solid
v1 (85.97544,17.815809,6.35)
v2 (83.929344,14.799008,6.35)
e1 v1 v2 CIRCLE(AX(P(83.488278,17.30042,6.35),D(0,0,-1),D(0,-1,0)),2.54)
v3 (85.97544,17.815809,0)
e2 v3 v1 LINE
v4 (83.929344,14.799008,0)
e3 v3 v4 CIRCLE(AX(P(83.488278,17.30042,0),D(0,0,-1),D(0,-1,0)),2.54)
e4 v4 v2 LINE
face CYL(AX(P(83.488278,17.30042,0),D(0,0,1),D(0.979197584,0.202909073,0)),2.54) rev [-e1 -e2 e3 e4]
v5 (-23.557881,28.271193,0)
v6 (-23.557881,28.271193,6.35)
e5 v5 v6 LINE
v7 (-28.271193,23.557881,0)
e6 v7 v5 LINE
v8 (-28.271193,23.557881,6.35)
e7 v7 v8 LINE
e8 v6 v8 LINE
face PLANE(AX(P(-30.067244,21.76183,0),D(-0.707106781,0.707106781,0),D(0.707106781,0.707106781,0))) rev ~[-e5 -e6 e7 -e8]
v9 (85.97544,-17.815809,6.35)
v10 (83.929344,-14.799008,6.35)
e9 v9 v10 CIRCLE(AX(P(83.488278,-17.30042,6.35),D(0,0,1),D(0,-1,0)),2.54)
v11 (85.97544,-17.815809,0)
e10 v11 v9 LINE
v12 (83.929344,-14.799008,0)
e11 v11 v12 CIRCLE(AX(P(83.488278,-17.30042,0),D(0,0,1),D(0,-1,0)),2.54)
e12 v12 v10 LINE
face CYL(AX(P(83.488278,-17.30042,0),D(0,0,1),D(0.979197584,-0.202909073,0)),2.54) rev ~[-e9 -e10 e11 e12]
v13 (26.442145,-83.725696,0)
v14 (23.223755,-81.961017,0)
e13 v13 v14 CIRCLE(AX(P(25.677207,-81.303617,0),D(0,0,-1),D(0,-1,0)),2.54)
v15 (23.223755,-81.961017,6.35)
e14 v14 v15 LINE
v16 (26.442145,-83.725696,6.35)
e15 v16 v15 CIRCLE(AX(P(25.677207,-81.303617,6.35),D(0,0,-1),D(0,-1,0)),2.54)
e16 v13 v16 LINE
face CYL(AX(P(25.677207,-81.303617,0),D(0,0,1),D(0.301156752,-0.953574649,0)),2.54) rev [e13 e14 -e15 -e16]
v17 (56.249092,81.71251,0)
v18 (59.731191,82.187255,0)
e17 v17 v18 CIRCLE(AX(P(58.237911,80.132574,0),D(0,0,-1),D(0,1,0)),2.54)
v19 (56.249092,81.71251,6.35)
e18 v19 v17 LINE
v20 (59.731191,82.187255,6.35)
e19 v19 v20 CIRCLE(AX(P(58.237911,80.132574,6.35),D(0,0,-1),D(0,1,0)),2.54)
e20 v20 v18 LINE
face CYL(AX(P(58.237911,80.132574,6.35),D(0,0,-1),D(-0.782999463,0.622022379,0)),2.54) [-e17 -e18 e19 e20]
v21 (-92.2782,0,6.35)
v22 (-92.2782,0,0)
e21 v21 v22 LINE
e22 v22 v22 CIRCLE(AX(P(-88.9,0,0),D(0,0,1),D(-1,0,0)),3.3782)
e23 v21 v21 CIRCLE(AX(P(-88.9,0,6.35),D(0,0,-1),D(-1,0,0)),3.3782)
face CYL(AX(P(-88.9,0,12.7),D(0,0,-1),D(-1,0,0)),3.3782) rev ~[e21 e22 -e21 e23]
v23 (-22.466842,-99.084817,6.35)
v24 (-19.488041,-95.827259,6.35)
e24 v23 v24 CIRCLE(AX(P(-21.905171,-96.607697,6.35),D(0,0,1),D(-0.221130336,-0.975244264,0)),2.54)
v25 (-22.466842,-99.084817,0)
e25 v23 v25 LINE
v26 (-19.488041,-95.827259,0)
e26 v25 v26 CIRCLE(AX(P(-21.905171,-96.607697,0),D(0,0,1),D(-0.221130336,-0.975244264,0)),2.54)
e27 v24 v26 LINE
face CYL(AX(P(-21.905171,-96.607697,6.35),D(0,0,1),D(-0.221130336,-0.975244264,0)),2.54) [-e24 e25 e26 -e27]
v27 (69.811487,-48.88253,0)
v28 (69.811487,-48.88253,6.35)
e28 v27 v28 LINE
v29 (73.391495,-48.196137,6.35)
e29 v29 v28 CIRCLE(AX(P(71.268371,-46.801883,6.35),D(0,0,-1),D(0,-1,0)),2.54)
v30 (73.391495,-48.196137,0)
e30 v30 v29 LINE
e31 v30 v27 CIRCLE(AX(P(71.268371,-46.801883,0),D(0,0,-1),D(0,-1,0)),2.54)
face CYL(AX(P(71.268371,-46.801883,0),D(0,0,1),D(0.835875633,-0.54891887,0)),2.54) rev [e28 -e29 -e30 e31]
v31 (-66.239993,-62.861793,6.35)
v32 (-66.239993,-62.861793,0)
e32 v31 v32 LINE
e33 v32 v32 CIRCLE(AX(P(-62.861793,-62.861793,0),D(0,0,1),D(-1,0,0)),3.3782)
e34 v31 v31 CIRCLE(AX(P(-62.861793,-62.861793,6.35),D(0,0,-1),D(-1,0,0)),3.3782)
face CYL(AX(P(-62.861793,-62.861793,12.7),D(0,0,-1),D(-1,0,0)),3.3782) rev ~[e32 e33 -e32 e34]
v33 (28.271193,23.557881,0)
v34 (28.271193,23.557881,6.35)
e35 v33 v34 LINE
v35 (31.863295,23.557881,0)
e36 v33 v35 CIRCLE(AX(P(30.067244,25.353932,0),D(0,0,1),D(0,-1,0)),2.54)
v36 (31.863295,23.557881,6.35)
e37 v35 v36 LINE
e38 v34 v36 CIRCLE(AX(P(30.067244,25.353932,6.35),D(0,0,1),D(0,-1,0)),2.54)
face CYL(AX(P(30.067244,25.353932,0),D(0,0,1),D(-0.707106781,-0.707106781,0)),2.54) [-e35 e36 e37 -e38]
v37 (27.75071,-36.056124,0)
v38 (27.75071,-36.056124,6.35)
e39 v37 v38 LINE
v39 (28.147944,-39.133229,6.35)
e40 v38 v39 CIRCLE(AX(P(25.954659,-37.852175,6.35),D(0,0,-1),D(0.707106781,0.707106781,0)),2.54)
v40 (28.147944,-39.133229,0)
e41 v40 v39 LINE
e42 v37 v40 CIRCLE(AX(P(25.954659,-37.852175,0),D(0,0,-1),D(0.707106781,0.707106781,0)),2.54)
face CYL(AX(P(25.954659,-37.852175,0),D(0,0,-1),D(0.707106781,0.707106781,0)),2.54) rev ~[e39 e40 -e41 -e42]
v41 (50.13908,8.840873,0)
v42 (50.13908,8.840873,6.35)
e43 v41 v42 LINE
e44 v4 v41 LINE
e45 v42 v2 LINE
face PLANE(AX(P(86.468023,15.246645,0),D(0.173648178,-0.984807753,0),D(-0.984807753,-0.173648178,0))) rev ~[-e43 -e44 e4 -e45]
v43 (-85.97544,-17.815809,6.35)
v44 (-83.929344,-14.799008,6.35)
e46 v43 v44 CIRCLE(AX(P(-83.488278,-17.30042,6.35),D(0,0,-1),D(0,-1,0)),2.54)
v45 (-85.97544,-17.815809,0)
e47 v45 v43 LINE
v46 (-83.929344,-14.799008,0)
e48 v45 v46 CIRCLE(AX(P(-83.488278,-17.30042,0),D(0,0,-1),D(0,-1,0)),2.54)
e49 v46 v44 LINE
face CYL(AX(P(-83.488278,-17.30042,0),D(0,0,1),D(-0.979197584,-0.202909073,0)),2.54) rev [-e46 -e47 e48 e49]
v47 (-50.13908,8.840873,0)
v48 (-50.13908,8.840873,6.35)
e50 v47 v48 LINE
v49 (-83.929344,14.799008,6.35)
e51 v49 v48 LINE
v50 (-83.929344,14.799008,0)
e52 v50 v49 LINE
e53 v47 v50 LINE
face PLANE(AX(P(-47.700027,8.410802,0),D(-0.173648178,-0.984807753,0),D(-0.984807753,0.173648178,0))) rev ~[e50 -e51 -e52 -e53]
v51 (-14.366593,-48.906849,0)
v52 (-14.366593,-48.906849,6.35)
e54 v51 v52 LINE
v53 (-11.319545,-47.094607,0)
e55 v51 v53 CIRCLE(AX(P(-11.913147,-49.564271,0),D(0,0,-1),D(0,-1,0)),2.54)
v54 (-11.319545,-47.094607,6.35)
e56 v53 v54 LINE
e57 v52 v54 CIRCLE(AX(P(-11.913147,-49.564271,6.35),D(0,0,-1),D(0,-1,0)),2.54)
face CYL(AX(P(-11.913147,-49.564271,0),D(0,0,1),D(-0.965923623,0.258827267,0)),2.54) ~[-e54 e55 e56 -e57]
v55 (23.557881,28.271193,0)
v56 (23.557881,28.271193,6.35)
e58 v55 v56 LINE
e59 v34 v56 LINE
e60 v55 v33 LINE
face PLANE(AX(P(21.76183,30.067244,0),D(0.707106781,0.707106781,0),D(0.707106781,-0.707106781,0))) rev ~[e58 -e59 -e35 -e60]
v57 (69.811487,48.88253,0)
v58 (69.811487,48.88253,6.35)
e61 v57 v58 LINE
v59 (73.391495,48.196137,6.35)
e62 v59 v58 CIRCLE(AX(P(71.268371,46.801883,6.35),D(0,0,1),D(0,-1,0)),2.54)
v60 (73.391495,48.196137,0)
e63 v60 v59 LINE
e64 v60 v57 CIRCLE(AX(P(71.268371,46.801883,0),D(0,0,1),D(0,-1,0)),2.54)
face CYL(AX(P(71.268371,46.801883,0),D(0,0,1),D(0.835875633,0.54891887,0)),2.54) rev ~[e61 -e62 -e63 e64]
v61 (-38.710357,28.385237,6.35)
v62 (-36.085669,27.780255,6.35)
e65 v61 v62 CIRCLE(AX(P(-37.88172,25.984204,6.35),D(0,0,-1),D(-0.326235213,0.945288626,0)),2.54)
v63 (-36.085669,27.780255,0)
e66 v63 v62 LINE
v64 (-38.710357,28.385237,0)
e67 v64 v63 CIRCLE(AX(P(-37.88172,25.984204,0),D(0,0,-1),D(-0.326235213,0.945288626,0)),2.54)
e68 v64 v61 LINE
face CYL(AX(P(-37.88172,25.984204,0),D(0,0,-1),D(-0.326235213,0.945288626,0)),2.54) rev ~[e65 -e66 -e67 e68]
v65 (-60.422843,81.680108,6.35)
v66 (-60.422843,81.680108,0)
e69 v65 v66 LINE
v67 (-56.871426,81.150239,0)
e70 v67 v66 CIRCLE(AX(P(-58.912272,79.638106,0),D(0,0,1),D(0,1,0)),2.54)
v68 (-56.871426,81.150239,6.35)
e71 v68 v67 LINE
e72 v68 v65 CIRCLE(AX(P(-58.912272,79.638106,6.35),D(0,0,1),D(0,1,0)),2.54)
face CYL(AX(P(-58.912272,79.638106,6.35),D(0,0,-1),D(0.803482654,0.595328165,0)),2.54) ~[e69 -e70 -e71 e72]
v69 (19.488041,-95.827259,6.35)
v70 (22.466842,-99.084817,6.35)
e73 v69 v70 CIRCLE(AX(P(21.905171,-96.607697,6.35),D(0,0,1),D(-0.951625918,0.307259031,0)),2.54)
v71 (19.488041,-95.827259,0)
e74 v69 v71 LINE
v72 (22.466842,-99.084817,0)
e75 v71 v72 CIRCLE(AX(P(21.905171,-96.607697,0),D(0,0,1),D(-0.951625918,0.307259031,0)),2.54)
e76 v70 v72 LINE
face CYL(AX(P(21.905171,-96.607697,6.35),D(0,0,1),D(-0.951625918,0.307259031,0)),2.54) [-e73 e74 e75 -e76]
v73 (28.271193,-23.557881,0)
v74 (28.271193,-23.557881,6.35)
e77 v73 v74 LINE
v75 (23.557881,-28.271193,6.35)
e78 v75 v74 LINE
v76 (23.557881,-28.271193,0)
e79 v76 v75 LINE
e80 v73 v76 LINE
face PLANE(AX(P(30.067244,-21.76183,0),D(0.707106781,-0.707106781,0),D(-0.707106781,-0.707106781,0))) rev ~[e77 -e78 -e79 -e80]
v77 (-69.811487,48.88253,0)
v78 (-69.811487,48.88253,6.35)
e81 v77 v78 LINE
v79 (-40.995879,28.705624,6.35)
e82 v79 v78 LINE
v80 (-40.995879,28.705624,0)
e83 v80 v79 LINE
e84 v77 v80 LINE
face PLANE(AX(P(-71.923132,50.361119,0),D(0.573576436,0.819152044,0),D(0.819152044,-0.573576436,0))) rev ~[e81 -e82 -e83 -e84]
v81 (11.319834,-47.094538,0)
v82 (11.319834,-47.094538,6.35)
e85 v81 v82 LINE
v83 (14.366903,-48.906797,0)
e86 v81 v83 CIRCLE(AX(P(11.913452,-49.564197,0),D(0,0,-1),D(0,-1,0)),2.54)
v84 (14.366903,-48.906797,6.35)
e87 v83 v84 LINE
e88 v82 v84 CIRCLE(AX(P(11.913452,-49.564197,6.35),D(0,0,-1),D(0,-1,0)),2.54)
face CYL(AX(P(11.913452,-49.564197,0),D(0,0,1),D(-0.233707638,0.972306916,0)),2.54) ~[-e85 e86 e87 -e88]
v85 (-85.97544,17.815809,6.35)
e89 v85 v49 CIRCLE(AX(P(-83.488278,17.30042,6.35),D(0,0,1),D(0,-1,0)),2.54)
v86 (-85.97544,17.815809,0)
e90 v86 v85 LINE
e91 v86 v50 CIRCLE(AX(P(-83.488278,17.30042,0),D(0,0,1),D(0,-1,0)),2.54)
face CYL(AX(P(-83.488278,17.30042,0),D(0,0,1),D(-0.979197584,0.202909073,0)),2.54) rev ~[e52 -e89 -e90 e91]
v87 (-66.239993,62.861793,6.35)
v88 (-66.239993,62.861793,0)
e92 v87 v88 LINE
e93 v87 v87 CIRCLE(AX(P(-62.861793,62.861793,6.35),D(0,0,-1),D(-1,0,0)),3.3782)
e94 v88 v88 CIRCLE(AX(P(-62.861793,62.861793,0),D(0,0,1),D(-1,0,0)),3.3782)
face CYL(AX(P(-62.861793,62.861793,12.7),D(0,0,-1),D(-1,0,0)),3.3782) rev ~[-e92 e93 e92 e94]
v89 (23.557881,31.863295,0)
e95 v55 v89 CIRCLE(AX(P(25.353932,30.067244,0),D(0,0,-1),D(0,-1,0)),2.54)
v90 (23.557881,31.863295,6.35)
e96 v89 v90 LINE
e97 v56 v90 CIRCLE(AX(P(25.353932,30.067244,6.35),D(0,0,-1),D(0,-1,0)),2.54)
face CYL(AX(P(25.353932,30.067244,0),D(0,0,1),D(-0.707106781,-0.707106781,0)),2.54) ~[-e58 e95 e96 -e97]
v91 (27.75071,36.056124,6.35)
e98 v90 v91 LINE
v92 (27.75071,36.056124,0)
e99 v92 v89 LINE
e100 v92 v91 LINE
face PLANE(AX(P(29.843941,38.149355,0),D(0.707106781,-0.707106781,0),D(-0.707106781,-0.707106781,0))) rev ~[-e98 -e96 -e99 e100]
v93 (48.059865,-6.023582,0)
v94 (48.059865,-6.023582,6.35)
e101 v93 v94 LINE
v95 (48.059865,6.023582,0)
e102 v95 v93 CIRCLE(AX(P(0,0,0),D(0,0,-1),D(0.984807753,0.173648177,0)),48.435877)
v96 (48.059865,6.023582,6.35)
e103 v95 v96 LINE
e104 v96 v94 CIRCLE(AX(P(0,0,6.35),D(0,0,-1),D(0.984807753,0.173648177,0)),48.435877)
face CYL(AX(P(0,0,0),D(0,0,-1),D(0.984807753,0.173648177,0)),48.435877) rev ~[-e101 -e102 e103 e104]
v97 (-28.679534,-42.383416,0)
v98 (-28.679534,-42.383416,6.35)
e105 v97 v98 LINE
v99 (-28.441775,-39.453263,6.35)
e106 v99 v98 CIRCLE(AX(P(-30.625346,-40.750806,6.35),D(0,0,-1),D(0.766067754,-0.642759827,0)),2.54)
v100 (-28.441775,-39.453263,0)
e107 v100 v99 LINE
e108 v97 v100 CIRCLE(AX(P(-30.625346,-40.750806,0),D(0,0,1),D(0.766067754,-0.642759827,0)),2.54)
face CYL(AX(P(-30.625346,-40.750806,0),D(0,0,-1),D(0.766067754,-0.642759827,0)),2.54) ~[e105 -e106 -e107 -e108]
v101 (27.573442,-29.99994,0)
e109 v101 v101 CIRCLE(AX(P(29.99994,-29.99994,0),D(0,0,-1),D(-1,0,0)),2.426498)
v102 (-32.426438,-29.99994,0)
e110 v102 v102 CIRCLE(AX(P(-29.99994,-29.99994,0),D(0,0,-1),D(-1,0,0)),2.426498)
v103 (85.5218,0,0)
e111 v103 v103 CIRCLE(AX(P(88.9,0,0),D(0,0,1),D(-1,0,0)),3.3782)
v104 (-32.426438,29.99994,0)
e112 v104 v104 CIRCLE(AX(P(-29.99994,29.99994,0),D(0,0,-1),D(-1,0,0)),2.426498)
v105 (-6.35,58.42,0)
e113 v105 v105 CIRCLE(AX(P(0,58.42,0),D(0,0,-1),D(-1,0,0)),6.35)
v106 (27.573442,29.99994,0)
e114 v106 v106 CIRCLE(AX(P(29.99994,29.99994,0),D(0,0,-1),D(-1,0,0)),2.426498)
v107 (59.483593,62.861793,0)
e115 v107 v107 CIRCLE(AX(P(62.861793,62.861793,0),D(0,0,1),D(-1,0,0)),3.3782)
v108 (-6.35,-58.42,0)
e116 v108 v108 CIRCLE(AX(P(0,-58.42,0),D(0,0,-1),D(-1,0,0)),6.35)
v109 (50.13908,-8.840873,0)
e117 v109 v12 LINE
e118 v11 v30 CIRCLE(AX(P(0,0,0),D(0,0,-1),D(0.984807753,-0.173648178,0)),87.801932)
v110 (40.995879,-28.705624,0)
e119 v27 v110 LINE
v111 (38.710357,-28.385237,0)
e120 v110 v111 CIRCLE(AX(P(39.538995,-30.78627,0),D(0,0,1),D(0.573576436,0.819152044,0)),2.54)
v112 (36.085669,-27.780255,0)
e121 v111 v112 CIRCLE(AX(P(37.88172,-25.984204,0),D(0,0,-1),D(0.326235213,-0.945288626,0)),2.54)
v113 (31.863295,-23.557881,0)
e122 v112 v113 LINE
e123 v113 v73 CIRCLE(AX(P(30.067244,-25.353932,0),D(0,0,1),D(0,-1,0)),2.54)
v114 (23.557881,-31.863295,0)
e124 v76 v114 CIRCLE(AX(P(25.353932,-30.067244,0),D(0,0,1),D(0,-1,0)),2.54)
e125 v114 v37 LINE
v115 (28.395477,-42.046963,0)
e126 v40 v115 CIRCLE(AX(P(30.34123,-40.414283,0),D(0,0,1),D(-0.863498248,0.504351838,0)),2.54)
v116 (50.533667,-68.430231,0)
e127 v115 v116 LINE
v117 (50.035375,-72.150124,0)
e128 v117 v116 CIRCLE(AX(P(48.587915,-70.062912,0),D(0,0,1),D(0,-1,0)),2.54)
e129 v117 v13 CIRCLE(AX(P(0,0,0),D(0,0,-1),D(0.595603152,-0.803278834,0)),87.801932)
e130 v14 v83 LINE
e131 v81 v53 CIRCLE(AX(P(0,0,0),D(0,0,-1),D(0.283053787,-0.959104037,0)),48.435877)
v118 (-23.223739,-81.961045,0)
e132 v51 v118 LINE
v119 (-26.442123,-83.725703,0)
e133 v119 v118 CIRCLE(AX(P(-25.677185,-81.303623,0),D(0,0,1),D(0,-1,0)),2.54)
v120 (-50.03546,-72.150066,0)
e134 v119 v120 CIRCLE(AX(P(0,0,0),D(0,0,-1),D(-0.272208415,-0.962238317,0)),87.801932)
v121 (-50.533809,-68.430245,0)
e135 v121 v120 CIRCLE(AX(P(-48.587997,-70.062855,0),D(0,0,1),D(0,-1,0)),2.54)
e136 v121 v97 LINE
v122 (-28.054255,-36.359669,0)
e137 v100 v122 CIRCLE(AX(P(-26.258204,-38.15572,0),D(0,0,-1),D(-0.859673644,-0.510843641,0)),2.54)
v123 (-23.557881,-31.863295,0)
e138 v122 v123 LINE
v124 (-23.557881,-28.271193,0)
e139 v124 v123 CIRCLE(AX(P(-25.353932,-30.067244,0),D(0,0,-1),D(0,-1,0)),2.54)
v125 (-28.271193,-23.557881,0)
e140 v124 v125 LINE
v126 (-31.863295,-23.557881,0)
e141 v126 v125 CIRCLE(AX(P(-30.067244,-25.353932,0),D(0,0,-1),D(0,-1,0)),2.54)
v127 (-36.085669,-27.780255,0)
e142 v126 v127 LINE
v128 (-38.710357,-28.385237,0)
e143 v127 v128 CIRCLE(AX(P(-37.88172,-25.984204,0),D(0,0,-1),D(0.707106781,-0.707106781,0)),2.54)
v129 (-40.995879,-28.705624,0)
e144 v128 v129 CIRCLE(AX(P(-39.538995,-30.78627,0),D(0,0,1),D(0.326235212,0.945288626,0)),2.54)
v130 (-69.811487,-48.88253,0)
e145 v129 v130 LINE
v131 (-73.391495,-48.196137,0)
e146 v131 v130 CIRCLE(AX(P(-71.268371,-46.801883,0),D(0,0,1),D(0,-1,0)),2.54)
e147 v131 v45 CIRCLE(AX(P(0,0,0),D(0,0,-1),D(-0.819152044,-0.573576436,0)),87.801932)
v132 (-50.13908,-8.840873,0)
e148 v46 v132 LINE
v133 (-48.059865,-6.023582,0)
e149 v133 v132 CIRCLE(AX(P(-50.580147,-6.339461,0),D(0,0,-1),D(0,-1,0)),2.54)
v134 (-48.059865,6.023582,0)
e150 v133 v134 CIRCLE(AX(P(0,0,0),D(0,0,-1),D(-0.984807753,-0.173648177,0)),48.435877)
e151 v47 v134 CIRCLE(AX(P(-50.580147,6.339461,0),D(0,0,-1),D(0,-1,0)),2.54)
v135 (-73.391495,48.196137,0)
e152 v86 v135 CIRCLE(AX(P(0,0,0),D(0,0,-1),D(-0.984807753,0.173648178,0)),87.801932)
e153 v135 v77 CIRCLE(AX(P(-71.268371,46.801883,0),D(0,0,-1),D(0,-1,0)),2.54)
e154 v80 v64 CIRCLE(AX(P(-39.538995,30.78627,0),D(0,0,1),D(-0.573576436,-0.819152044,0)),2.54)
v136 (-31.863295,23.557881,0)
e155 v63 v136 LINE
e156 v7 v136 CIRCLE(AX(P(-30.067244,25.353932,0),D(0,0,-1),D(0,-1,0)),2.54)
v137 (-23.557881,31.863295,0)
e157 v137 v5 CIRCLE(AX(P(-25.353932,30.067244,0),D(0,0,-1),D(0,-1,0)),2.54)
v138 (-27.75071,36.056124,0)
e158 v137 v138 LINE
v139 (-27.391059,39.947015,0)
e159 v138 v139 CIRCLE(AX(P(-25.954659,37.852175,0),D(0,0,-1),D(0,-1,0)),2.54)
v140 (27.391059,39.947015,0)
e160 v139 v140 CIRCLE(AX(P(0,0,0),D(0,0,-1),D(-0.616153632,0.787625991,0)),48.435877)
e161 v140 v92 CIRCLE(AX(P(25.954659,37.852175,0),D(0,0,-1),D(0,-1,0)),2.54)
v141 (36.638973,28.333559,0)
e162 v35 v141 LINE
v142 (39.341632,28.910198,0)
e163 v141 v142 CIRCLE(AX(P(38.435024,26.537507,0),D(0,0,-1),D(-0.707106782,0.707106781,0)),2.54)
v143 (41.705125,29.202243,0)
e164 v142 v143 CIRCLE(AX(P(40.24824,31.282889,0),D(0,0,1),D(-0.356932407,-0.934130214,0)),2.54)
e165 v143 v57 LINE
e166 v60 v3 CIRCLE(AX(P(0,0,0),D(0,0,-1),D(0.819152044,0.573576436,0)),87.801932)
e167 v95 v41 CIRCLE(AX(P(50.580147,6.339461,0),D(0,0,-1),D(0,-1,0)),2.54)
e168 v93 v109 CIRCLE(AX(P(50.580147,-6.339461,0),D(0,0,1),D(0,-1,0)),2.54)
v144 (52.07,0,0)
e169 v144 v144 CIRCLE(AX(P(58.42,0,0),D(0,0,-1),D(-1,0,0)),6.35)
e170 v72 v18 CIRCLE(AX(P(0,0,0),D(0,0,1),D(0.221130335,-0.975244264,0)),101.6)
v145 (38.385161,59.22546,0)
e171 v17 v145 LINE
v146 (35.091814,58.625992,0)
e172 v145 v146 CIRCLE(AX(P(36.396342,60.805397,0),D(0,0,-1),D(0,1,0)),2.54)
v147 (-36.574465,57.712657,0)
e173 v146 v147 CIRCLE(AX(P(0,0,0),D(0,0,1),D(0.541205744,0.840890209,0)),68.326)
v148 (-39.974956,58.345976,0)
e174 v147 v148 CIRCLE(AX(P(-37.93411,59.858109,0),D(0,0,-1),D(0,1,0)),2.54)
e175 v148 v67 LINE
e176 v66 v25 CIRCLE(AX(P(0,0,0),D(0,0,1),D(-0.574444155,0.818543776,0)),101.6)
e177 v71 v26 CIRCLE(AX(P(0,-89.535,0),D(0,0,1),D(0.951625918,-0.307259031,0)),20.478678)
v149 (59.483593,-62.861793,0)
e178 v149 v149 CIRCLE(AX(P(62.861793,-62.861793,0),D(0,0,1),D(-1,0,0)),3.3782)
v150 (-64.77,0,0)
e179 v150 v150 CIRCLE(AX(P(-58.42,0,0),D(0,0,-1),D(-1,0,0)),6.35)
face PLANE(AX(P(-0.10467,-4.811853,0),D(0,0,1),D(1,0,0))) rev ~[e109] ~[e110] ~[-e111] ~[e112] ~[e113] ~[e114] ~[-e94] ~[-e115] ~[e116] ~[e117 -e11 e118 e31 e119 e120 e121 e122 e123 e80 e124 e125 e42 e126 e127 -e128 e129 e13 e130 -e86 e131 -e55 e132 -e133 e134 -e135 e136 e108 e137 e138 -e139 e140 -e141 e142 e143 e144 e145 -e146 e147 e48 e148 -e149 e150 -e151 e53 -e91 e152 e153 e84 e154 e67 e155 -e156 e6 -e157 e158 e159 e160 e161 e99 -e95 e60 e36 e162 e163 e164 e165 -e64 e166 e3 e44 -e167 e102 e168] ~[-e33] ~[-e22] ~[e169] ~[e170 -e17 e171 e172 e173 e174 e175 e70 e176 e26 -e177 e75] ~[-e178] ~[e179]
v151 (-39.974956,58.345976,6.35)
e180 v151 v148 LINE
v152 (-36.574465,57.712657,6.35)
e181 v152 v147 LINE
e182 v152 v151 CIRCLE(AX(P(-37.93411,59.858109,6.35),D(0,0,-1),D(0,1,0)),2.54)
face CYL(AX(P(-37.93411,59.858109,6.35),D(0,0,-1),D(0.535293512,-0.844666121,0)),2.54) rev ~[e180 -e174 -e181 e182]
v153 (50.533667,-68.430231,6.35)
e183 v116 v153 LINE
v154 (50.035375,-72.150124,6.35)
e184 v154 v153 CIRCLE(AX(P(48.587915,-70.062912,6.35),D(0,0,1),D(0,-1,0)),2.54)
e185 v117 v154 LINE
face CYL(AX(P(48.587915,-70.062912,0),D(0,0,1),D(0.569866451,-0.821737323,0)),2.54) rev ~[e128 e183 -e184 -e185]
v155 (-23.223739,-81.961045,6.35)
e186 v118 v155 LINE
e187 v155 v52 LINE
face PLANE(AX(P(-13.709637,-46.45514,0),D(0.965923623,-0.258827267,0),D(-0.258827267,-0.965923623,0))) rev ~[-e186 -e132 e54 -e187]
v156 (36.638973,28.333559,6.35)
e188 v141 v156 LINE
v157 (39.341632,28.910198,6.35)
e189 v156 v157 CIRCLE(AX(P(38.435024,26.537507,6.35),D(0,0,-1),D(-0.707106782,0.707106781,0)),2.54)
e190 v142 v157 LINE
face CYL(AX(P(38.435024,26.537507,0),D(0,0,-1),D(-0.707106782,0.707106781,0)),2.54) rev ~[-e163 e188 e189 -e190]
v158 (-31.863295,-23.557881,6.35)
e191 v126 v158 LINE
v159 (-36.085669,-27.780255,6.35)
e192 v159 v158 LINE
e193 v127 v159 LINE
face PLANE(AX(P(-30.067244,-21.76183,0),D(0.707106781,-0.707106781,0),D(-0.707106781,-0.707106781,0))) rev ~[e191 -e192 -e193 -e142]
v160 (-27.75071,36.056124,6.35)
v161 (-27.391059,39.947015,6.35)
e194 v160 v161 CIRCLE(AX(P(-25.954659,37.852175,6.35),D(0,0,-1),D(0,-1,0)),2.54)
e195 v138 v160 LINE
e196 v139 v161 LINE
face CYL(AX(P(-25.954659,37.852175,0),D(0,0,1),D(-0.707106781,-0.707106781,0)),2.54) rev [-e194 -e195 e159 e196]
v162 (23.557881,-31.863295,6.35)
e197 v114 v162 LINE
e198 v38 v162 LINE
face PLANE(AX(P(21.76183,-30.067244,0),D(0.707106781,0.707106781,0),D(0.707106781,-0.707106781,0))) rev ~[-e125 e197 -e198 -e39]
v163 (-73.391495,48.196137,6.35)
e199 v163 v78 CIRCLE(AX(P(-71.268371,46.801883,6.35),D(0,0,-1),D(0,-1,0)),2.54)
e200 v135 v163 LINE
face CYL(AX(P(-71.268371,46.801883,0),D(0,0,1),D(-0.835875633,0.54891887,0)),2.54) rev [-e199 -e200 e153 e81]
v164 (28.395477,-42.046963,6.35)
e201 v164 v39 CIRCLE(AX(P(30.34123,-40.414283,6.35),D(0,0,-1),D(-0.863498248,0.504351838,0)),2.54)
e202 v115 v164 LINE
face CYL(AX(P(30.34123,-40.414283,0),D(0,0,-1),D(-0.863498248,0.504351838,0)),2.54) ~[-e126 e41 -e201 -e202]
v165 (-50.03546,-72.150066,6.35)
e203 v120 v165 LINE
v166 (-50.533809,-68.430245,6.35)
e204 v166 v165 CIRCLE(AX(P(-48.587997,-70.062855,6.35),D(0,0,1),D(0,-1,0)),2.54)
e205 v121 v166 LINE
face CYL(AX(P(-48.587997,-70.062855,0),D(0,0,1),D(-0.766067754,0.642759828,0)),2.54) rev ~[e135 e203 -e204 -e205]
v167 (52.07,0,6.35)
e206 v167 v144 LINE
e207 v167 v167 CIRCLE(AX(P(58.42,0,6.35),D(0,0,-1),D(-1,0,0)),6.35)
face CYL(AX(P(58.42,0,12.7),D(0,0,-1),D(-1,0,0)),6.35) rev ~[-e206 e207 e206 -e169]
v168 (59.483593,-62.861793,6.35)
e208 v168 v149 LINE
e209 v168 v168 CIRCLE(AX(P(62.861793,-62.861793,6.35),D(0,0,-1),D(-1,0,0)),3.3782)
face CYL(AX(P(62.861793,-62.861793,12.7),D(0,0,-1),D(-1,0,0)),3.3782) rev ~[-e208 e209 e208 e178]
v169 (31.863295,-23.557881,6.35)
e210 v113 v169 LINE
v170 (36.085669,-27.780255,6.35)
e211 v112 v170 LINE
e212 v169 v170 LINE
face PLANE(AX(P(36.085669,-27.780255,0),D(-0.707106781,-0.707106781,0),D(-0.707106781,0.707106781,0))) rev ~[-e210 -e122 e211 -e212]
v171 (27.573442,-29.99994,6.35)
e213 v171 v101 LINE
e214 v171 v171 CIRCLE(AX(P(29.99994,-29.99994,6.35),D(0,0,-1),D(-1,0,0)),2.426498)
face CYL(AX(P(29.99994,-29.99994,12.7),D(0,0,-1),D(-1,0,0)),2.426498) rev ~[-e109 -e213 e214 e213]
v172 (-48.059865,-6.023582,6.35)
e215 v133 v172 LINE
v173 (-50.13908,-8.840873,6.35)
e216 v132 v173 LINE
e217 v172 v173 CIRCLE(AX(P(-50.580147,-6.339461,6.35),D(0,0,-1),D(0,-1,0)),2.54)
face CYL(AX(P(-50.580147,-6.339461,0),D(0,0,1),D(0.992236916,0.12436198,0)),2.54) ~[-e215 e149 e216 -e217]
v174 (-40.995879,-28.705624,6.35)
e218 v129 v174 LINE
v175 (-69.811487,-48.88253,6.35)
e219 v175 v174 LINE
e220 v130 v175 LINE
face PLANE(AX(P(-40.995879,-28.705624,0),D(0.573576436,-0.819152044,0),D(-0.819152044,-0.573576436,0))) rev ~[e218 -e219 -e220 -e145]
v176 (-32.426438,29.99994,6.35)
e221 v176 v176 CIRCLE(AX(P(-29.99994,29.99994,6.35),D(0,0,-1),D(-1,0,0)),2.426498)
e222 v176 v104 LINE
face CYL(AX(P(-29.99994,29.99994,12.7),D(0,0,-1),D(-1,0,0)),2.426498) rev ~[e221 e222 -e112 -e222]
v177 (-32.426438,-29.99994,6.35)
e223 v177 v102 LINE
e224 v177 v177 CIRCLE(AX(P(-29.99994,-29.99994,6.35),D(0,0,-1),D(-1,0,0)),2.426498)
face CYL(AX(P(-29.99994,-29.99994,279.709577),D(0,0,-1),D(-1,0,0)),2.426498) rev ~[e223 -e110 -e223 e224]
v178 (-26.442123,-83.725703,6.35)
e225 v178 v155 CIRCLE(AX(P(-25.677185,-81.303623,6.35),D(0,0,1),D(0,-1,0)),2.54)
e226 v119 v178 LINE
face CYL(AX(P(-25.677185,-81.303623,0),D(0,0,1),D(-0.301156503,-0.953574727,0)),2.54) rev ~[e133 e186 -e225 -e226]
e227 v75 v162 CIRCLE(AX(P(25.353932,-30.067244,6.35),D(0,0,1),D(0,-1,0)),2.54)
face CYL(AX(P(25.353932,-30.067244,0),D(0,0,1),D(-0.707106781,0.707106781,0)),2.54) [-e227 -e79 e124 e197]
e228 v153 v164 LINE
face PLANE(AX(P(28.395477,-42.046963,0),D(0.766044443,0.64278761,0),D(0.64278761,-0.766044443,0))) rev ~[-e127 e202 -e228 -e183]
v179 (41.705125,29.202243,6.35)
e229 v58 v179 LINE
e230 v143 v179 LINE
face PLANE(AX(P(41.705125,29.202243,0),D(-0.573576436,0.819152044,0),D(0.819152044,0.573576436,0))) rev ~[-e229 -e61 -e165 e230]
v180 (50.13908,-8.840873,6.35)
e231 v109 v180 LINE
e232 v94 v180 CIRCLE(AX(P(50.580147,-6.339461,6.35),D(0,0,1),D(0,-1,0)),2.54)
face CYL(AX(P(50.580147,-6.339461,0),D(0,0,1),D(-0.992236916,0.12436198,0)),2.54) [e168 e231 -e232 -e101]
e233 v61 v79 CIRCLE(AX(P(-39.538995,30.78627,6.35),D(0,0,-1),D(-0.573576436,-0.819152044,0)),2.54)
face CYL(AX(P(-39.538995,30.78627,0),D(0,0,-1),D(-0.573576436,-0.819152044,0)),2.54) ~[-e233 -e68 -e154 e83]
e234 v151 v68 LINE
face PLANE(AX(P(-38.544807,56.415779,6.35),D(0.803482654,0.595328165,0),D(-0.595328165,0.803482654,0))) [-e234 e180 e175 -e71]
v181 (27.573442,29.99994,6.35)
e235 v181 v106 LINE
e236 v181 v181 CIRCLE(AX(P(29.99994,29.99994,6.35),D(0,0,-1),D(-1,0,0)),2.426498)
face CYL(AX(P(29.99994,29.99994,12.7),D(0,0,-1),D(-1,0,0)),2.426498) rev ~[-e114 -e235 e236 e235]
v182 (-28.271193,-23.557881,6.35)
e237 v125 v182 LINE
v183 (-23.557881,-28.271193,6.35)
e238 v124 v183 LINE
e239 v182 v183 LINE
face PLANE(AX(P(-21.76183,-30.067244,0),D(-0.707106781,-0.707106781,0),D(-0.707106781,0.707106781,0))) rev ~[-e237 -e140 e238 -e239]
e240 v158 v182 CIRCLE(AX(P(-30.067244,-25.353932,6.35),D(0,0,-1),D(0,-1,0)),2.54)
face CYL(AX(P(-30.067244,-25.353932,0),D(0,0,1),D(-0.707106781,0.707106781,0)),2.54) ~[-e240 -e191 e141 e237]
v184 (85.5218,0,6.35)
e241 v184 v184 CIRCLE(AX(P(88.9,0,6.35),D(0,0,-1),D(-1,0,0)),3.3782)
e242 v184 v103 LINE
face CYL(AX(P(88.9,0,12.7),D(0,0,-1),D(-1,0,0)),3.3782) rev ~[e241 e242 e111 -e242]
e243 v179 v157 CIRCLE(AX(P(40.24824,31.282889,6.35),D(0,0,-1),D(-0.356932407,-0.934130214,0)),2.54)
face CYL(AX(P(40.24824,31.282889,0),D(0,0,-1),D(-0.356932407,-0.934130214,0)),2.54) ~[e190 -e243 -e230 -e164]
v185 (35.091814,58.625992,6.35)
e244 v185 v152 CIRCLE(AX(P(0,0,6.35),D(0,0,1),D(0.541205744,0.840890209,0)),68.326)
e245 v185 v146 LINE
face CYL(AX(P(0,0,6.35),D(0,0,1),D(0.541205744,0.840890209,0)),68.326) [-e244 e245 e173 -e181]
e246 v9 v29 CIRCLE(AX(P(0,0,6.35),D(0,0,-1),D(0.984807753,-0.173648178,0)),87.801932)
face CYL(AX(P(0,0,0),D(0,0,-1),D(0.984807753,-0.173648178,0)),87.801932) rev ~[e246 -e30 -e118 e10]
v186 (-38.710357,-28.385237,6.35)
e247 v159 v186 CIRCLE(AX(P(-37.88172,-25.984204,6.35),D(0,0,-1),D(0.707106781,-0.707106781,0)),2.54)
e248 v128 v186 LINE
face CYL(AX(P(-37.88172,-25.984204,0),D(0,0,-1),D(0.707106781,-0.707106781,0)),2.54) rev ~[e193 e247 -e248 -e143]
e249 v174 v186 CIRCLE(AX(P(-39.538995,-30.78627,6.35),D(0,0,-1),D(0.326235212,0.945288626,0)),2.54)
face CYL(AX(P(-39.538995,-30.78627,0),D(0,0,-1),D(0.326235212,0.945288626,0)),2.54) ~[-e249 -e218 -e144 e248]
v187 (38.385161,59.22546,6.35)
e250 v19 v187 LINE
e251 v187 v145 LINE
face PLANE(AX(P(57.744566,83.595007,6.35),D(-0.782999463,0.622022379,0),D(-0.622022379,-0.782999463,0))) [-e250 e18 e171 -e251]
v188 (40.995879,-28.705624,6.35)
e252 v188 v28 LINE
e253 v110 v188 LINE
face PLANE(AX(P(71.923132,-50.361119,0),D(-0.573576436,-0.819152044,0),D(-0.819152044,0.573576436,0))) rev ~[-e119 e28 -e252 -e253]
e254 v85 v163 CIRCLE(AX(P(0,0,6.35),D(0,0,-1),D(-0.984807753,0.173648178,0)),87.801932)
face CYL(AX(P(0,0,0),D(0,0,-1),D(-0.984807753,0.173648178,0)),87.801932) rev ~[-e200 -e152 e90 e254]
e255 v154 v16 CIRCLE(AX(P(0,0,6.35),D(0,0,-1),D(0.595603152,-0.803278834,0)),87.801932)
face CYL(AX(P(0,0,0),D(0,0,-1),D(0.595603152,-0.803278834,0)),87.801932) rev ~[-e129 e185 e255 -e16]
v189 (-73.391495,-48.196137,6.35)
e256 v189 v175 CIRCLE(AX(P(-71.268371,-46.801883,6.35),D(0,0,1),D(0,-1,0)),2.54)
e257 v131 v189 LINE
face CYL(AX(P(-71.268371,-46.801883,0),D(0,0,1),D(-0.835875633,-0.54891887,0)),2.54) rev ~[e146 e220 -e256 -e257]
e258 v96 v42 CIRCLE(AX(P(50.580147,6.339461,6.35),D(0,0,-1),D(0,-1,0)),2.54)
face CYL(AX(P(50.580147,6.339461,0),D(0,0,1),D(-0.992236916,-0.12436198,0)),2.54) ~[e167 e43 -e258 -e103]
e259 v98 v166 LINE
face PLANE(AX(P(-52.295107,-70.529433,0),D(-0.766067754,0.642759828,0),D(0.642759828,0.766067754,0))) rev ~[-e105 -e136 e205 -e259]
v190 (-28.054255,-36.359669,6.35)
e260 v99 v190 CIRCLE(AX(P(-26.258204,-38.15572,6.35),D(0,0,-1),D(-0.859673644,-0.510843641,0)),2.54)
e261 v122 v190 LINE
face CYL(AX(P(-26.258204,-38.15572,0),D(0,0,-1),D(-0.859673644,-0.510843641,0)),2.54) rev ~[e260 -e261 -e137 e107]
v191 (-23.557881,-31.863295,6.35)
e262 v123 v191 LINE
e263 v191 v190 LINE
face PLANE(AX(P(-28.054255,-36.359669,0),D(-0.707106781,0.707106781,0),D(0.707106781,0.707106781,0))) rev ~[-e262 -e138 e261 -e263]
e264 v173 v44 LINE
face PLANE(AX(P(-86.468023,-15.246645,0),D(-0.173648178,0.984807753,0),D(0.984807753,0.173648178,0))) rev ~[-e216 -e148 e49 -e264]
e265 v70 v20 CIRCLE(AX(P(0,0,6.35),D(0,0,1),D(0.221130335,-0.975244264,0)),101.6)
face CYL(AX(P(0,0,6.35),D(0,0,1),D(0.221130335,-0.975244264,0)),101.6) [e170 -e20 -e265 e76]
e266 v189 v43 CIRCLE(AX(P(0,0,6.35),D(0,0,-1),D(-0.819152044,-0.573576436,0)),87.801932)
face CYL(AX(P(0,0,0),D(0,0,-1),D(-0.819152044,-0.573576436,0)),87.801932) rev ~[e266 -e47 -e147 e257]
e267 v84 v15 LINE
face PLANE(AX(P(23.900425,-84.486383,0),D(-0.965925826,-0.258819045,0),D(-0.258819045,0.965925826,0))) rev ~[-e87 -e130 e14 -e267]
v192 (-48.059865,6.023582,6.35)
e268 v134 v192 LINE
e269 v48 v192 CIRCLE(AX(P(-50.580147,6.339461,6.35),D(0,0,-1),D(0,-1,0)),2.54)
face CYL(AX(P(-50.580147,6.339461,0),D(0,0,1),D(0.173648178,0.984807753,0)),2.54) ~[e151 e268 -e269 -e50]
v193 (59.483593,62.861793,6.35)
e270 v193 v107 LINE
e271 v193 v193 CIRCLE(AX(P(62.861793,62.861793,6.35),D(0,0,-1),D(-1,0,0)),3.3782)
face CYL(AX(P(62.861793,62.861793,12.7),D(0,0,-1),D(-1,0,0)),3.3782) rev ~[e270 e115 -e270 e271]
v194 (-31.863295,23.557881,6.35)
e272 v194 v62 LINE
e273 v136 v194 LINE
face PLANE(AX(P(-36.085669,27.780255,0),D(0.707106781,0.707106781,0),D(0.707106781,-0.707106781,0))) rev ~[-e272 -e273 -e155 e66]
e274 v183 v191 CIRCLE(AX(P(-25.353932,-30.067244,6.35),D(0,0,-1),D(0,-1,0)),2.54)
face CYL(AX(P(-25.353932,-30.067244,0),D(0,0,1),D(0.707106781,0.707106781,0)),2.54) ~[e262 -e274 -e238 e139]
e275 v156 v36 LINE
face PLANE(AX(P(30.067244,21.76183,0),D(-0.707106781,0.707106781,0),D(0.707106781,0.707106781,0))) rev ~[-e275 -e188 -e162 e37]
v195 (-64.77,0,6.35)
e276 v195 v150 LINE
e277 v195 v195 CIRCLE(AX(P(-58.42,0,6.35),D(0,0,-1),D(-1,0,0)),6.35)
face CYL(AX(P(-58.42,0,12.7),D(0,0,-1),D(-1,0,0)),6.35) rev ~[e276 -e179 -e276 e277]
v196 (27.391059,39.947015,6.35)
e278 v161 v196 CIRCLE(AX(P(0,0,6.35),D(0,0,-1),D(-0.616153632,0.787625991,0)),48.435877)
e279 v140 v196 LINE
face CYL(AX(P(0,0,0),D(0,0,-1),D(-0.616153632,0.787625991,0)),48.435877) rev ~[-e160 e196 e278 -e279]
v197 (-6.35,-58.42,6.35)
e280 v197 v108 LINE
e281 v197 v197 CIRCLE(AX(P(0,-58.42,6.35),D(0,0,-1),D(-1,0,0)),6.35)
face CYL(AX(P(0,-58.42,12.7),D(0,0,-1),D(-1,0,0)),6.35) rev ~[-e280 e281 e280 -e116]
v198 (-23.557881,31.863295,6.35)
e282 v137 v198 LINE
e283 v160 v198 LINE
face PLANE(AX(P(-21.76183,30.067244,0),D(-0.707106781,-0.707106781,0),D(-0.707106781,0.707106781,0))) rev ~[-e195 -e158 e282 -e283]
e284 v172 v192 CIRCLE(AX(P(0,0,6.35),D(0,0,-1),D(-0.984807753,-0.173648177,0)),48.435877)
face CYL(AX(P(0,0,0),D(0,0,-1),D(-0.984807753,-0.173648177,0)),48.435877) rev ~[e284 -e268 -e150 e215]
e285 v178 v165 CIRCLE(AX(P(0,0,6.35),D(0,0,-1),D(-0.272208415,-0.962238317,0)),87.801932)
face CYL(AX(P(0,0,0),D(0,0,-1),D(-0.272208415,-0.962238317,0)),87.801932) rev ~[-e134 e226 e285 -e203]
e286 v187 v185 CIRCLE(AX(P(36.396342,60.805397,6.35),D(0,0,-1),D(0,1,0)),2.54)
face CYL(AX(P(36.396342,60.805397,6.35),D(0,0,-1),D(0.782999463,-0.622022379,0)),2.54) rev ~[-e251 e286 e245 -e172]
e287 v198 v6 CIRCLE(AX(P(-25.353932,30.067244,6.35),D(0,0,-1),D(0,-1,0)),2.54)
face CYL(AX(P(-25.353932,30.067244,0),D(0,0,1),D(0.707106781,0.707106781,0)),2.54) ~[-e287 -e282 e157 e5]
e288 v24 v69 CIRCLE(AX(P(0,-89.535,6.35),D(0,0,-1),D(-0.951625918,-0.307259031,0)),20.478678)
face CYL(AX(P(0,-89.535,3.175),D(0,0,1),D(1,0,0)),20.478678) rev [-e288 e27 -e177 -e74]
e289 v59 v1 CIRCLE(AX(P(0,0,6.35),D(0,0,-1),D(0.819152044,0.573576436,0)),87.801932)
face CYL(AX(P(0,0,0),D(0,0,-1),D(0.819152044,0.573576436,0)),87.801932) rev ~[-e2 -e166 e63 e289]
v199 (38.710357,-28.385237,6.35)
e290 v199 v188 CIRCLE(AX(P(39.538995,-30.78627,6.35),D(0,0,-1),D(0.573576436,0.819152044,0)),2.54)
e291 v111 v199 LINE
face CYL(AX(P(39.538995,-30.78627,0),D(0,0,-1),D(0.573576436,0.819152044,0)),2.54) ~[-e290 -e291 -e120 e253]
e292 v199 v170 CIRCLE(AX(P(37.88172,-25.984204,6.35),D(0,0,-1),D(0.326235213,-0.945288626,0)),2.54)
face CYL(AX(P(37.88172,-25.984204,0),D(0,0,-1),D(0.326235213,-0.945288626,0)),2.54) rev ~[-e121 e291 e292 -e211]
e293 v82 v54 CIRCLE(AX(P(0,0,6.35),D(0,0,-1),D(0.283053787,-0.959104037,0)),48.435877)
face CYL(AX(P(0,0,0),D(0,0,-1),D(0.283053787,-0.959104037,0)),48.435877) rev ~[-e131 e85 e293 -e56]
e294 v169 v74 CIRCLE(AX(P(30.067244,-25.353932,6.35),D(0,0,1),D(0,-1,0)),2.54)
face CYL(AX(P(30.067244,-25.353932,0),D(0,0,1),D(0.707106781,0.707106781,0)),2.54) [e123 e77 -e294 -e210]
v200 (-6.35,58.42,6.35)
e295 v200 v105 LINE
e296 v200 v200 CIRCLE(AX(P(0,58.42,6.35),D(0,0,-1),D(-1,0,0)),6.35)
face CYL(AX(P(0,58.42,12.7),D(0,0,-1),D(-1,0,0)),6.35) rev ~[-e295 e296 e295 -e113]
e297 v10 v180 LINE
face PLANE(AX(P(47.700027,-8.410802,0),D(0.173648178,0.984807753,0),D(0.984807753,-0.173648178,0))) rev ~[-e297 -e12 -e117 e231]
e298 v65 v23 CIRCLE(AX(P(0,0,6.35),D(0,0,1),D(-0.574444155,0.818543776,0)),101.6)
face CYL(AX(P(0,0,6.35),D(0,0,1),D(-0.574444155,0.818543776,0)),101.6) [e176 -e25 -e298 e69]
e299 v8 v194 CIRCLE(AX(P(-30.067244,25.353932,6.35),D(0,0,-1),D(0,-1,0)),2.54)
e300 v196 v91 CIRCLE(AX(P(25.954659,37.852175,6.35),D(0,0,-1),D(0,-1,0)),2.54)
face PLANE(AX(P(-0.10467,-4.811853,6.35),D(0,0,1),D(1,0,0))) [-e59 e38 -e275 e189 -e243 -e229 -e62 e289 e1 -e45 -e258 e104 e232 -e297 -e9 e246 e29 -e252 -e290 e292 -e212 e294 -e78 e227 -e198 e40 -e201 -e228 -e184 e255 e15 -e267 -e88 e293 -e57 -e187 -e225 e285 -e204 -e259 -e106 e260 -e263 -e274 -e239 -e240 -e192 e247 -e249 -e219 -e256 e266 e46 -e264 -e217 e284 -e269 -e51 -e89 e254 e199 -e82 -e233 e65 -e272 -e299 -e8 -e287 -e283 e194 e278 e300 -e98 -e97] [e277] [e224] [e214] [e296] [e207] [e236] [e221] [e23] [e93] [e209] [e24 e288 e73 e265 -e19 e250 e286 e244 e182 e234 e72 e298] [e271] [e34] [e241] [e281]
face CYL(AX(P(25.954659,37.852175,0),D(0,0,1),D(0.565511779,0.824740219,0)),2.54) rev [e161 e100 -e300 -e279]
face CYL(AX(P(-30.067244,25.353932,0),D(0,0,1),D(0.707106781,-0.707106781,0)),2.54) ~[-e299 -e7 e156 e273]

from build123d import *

# Parameters (mm, degrees)
BOSS_EXTRUDE1_DEPTH = 6.35
CUT_EXTRUDE1_DEPTH  = 7.35
SKETCH3_W           = 20.478678418
SKETCH3_H           = 6.35
HOLE1_D             = 4.852996304
HOLE1_DEPTH         = 6.35
HOLE2_D             = 4.852996304
HOLE2_DEPTH         = 6.35
HOLE3_D             = 4.852996304
HOLE4_D             = 4.852996304
HOLE4_DEPTH         = 6.35
HOLE5_D             = 12.7
HOLE5_DEPTH         = 6.35
HOLE6_D             = 12.7
HOLE6_DEPTH         = 6.35
HOLE7_D             = 12.7
HOLE7_DEPTH         = 6.35
HOLE8_D             = 12.7
HOLE8_DEPTH         = 6.35
HOLE9_D             = 6.7564
HOLE9_DEPTH         = 6.35
HOLE9_TIP           = 2.029827343
HOLE10_D            = 6.7564
HOLE10_DEPTH        = 6.35
HOLE10_TIP          = 2.029827343
HOLE11_D            = 6.7564
HOLE11_DEPTH        = 6.35
HOLE11_TIP          = 2.029827343
HOLE12_D            = 6.7564
HOLE12_DEPTH        = 6.35
HOLE12_TIP          = 2.029827343
HOLE13_D            = 6.7564
HOLE13_DEPTH        = 6.35
HOLE13_TIP          = 2.029827343
HOLE14_D            = 6.7564
HOLE14_DEPTH        = 6.35
HOLE14_TIP          = 2.029827343
FILLET1_R           = 2.54
FILLET2_R           = 2.54
FILLET3_R           = 2.54
FILLET4_R           = 2.54
FILLET5_R           = 2.54
FILLET6_R           = 2.54
FILLET7_R           = 2.54
FILLET8_R           = 2.54
FILLET9_R           = 2.54
FILLET10_R          = 2.54
FILLET11_R          = 2.54
FILLET12_R          = 2.54
FILLET13_R          = 2.54
FILLET14_R          = 2.54
FILLET15_R          = 2.54
FILLET16_R          = 2.54
FILLET17_R          = 2.54
FILLET18_R          = 2.54
FILLET19_R          = 2.54
FILLET20_R          = 2.54
FILLET21_R          = 2.54
FILLET22_R          = 2.54
FILLET23_R          = 2.54
FILLET24_R          = 2.54
FILLET25_R          = 2.54
FILLET26_R          = 2.54
FILLET27_R          = 2.54
FILLET28_R          = 2.54
FILLET29_R          = 2.54
FILLET30_R          = 2.54
FILLET31_R          = 2.54
FILLET32_R          = 2.54


with BuildPart() as part:
    # Sketch1 → Boss-Extrude1 (new body)
    with BuildSketch(Plane.XY.offset(6.35)):
        with BuildLine():
            Line((57.744565526, 83.595006742), (36.978423652, 57.45466439))
            ThreePointArc((36.978423652, 57.45466439), (-0.939792187, 68.319536493), (-38.544806548, 56.41577939))
            Line((-38.544806548, 56.41577939), (-58.363526169, 83.1640476))
            ThreePointArc((-58.363526169, 83.1640476), (-99.684749538, -19.63442664), (-22.466842036, -99.084817247))
            ThreePointArc((-22.466842036, -99.084817247), (-20.030710141, -98.321755318), (-19.488041153, -95.827258878))
            ThreePointArc((-19.488041153, -95.827258878), (0, -110.013678418), (19.488041153, -95.827258878))
            ThreePointArc((19.488041153, -95.827258878), (20.030710141, -98.321755318), (22.466842036, -99.084817247))
            ThreePointArc((22.466842036, -99.084817247), (99.756939603, -19.264293422), (57.744565526, 83.595006742))
        make_face()
    extrude(amount=-BOSS_EXTRUDE1_DEPTH)

    # Sketch2 → Cut-Extrude1 (cut, through all)
    with BuildSketch(Plane(origin=(0, 0, 0), x_dir=(-1, 0, 0), z_dir=(0, 0, -1))):
        with BuildLine():
            Line((86.468023222, -15.246645463), (47.700026827, -8.41080171))
            ThreePointArc((47.700026827, -8.41080171), (48.435876627, 0), (47.700026827, 8.41080171))
            Line((47.700026827, 8.41080171), (86.468023222, 15.246645463))
            ThreePointArc((86.468023222, 15.246645463), (81.118407757, 33.600344651), (71.923131973, 50.361119179))
            Line((71.923131973, 50.361119179), (40.995879051, 28.705623547))
            ThreePointArc((40.995879051, 28.705623547), (39.891607191, 28.27086429), (38.710357463, 28.385236629))
            ThreePointArc((38.710357463, 28.385236629), (37.311217501, 28.459304906), (36.085668799, 27.780254744))
            Line((36.085668799, 27.780254744), (30.067243726, 21.76182967))
            Line((30.067243726, 21.76182967), (21.76182967, 30.067243726))
            Line((21.76182967, 30.067243726), (29.843941288, 38.149355343))
            ThreePointArc((29.843941288, 38.149355343), (0, 48.435876627), (-29.843941288, 38.149355343))
            Line((-29.843941288, 38.149355343), (-21.76182967, 30.067243726))
            Line((-21.76182967, 30.067243726), (-30.067243726, 21.76182967))
            Line((-30.067243726, 21.76182967), (-36.638972644, 28.333558588))
            ThreePointArc((-36.638972644, 28.333558588), (-37.90501872, 29.021595636), (-39.341632182, 28.910198107))
            ThreePointArc((-39.341632182, 28.910198107), (-40.559726256, 28.762060292), (-41.705124645, 29.202242658))
            Line((-41.705124645, 29.202242658), (-71.923131973, 50.361119179))
            ThreePointArc((-71.923131973, 50.361119179), (-81.118407757, 33.600344651), (-86.468023222, 15.246645463))
            Line((-86.468023222, 15.246645463), (-47.700026827, 8.41080171))
            ThreePointArc((-47.700026827, 8.41080171), (-48.435876627, 0), (-47.700026827, -8.41080171))
            Line((-47.700026827, -8.41080171), (-86.468023222, -15.246645463))
            ThreePointArc((-86.468023222, -15.246645463), (-81.118407757, -33.600344651), (-71.923131973, -50.361119179))
            Line((-71.923131973, -50.361119179), (-40.995879051, -28.705623547))
            ThreePointArc((-40.995879051, -28.705623547), (-39.891607191, -28.27086429), (-38.710357463, -28.385236629))
            ThreePointArc((-38.710357463, -28.385236629), (-37.311217501, -28.459304906), (-36.085668799, -27.780254744))
            Line((-36.085668799, -27.780254744), (-30.067243726, -21.76182967))
            Line((-30.067243726, -21.76182967), (-21.76182967, -30.067243726))
            Line((-21.76182967, -30.067243726), (-27.750710046, -36.056124101))
            ThreePointArc((-27.750710046, -36.056124101), (-28.473755009, -37.526976312), (-28.147944371, -39.133228992))
            ThreePointArc((-28.147944371, -39.133228992), (-27.810346373, -40.629290723), (-28.395477036, -42.046963187))
            Line((-28.395477036, -42.046963187), (-52.295107345, -70.52943347))
            ThreePointArc((-52.295107345, -70.52943347), (-38.731626443, -78.797464115), (-23.900424698, -84.486383146))
            Line((-23.900424698, -84.486383146), (-13.709958303, -46.455044807))
            ThreePointArc((-13.709958303, -46.455044807), (-0.000167626, -48.435876627), (13.709636762, -46.4551397))
            Line((13.709636762, -46.4551397), (23.900424698, -84.486383146))
            ThreePointArc((23.900424698, -84.486383146), (38.731626442, -78.797464115), (52.295107345, -70.52943347))
            Line((52.295107345, -70.52943347), (28.679533789, -42.383415936))
            ThreePointArc((28.679533789, -42.383415936), (28.093666565, -40.95623193), (28.441774828, -39.453263124))
            ThreePointArc((28.441774828, -39.453263124), (28.778507215, -37.840013838), (28.054254996, -36.359669052))
            Line((28.054254996, -36.359669052), (21.76182967, -30.067243726))
            Line((21.76182967, -30.067243726), (30.067243726, -21.76182967))
            Line((30.067243726, -21.76182967), (36.085668799, -27.780254744))
            ThreePointArc((36.085668799, -27.780254744), (37.311217501, -28.459304906), (38.710357463, -28.385236629))
            ThreePointArc((38.710357463, -28.385236629), (39.891607191, -28.27086429), (40.995879051, -28.705623547))
            Line((40.995879051, -28.705623547), (71.923131973, -50.361119179))
            ThreePointArc((71.923131973, -50.361119179), (81.118407757, -33.600344651), (86.468023222, -15.246645463))
        make_face()
    extrude(amount=-CUT_EXTRUDE1_DEPTH, mode=Mode.SUBTRACT)

    # Sketch3 → Cut-Revolve1 (revolve, cut)
    with BuildSketch(Plane.XZ.offset(89.535)):
        with Locations((10.239339209, 3.175)):
            Rectangle(SKETCH3_W, SKETCH3_H)
    revolve(axis=Axis((0, -89.535, 6.35), (0, 0, -1)), mode=Mode.SUBTRACT)

    # Hole1
    with Locations(Plane.XY.offset(6.35)):
        with Locations((29.99994, 29.99994)):
            Hole(HOLE1_D / 2, depth=HOLE1_DEPTH)

    # Hole2
    with Locations(Plane.XY.offset(6.35)):
        with Locations((-29.99994, 29.99994)):
            Hole(HOLE2_D / 2, depth=HOLE2_DEPTH)

    # Hole3 (through all)
    with Locations(Plane.XY.offset(6.35)):
        with Locations((-29.99994, -29.99994)):
            Hole(HOLE3_D / 2)

    # Hole4
    with Locations(Plane.XY.offset(6.35)):
        with Locations((29.99994, -29.99994)):
            Hole(HOLE4_D / 2, depth=HOLE4_DEPTH)

    # Hole5
    with Locations(Plane.XY.offset(6.35)):
        with Locations((0, 58.42)):
            Hole(HOLE5_D / 2, depth=HOLE5_DEPTH)

    # Hole6
    with Locations(Plane.XY.offset(6.35)):
        with Locations((58.42, 0)):
            Hole(HOLE6_D / 2, depth=HOLE6_DEPTH)

    # Hole7
    with Locations(Plane.XY.offset(6.35)):
        with Locations((-58.42, 0)):
            Hole(HOLE7_D / 2, depth=HOLE7_DEPTH)

    # Hole8
    with Locations(Plane.XY.offset(6.35)):
        with Locations((0, -58.42)):
            Hole(HOLE8_D / 2, depth=HOLE8_DEPTH)

    # Hole9
    with Locations(Plane.XY.offset(6.35)):
        with Locations((62.861792847, -62.861792847)):
            Hole(HOLE9_D / 2, depth=HOLE9_DEPTH)
            with Locations((0, 0, -(HOLE9_DEPTH + HOLE9_TIP / 2))):  # 118° drill point
                Cone(0, HOLE9_D / 2, HOLE9_TIP, mode=Mode.SUBTRACT)

    # Hole10
    with Locations(Plane.XY.offset(6.35)):
        with Locations((88.9, 0)):
            Hole(HOLE10_D / 2, depth=HOLE10_DEPTH)
            with Locations((0, 0, -(HOLE10_DEPTH + HOLE10_TIP / 2))):  # 118° drill point
                Cone(0, HOLE10_D / 2, HOLE10_TIP, mode=Mode.SUBTRACT)

    # Hole11
    with Locations(Plane.XY.offset(6.35)):
        with Locations((62.861792847, 62.861792847)):
            Hole(HOLE11_D / 2, depth=HOLE11_DEPTH)
            with Locations((0, 0, -(HOLE11_DEPTH + HOLE11_TIP / 2))):  # 118° drill point
                Cone(0, HOLE11_D / 2, HOLE11_TIP, mode=Mode.SUBTRACT)

    # Hole12
    with Locations(Plane.XY.offset(6.35)):
        with Locations((-62.861792847, 62.861792847)):
            Hole(HOLE12_D / 2, depth=HOLE12_DEPTH)
            with Locations((0, 0, -(HOLE12_DEPTH + HOLE12_TIP / 2))):  # 118° drill point
                Cone(0, HOLE12_D / 2, HOLE12_TIP, mode=Mode.SUBTRACT)

    # Hole13
    with Locations(Plane.XY.offset(6.35)):
        with Locations((-88.9, 0)):
            Hole(HOLE13_D / 2, depth=HOLE13_DEPTH)
            with Locations((0, 0, -(HOLE13_DEPTH + HOLE13_TIP / 2))):  # 118° drill point
                Cone(0, HOLE13_D / 2, HOLE13_TIP, mode=Mode.SUBTRACT)

    # Hole14
    with Locations(Plane.XY.offset(6.35)):
        with Locations((-62.861792847, -62.861792847)):
            Hole(HOLE14_D / 2, depth=HOLE14_DEPTH)
            with Locations((0, 0, -(HOLE14_DEPTH + HOLE14_TIP / 2))):  # 118° drill point
                Cone(0, HOLE14_D / 2, HOLE14_TIP, mode=Mode.SUBTRACT)

    # Fillet1
    fillet1_edges = [part.edges().sort_by_distance(p)[0] for p in [
        (-86.468023222, 15.246645463, 3.175),
    ]]
    fillet(fillet1_edges, radius=FILLET1_R)

    # Fillet2
    fillet2_edges = [part.edges().sort_by_distance(p)[0] for p in [
        (-52.295107345, -70.52943347, 3.175),
    ]]
    fillet(fillet2_edges, radius=FILLET2_R)

    # Fillet3
    fillet3_edges = [part.edges().sort_by_distance(p)[0] for p in [
        (-38.544806548, 56.41577939, 3.175),
    ]]
    fillet(fillet3_edges, radius=FILLET3_R)

    # Fillet4
    fillet4_edges = [part.edges().sort_by_distance(p)[0] for p in [
        (-23.900424698, -84.486383146, 3.175),
    ]]
    fillet(fillet4_edges, radius=FILLET4_R)

    # Fillet5
    fillet5_edges = [part.edges().sort_by_distance(p)[0] for p in [
        (29.843941288, 38.149355343, 3.175),
    ]]
    fillet(fillet5_edges, radius=FILLET5_R)

    # Fillet6
    fillet6_edges = [part.edges().sort_by_distance(p)[0] for p in [
        (71.923131973, -50.361119179, 3.175),
    ]]
    fillet(fillet6_edges, radius=FILLET6_R)

    # Fillet7
    fillet7_edges = [part.edges().sort_by_distance(p)[0] for p in [
        (-71.923131973, -50.361119179, 3.175),
    ]]
    fillet(fillet7_edges, radius=FILLET7_R)

    # Fillet8
    fillet8_edges = [part.edges().sort_by_distance(p)[0] for p in [
        (-13.709636762, -46.4551397, 3.175),
    ]]
    fillet(fillet8_edges, radius=FILLET8_R)

    # Fillet9
    fillet9_edges = [part.edges().sort_by_distance(p)[0] for p in [
        (86.468023222, -15.246645463, 3.175),
    ]]
    fillet(fillet9_edges, radius=FILLET9_R)

    # Fillet10
    fillet10_edges = [part.edges().sort_by_distance(p)[0] for p in [
        (-47.700026827, 8.41080171, 3.175),
    ]]
    fillet(fillet10_edges, radius=FILLET10_R)

    # Fillet11
    fillet11_edges = [part.edges().sort_by_distance(p)[0] for p in [
        (-71.923131973, 50.361119179, 3.175),
    ]]
    fillet(fillet11_edges, radius=FILLET11_R)

    # Fillet12
    fillet12_edges = [part.edges().sort_by_distance(p)[0] for p in [
        (57.744565526, 83.595006742, 3.175),
    ]]
    fillet(fillet12_edges, radius=FILLET12_R)

    # Fillet13
    fillet13_edges = [part.edges().sort_by_distance(p)[0] for p in [
        (52.295107345, -70.52943347, 3.175),
    ]]
    fillet(fillet13_edges, radius=FILLET13_R)

    # Fillet14
    fillet14_edges = [part.edges().sort_by_distance(p)[0] for p in [
        (47.700026827, 8.41080171, 3.175),
    ]]
    fillet(fillet14_edges, radius=FILLET14_R)

    # Fillet15
    fillet15_edges = [part.edges().sort_by_distance(p)[0] for p in [
        (23.900424698, -84.486383146, 3.175),
    ]]
    fillet(fillet15_edges, radius=FILLET15_R)

    # Fillet16
    fillet16_edges = [part.edges().sort_by_distance(p)[0] for p in [
        (-86.468023222, -15.246645463, 3.175),
    ]]
    fillet(fillet16_edges, radius=FILLET16_R)

    # Fillet17
    fillet17_edges = [part.edges().sort_by_distance(p)[0] for p in [
        (13.709958303, -46.455044807, 3.175),
    ]]
    fillet(fillet17_edges, radius=FILLET17_R)

    # Fillet18
    fillet18_edges = [part.edges().sort_by_distance(p)[0] for p in [
        (71.923131973, 50.361119179, 3.175),
    ]]
    fillet(fillet18_edges, radius=FILLET18_R)

    # Fillet19
    fillet19_edges = [part.edges().sort_by_distance(p)[0] for p in [
        (86.468023222, 15.246645463, 3.175),
    ]]
    fillet(fillet19_edges, radius=FILLET19_R)

    # Fillet20
    fillet20_edges = [part.edges().sort_by_distance(p)[0] for p in [
        (47.700026827, -8.41080171, 3.175),
    ]]
    fillet(fillet20_edges, radius=FILLET20_R)

    # Fillet21
    fillet21_edges = [part.edges().sort_by_distance(p)[0] for p in [
        (21.76182967, 30.067243726, 3.175),
    ]]
    fillet(fillet21_edges, radius=FILLET21_R)

    # Fillet22
    fillet22_edges = [part.edges().sort_by_distance(p)[0] for p in [
        (30.067243726, -21.76182967, 3.175),
    ]]
    fillet(fillet22_edges, radius=FILLET22_R)

    # Fillet23
    fillet23_edges = [part.edges().sort_by_distance(p)[0] for p in [
        (21.76182967, -30.067243726, 3.175),
    ]]
    fillet(fillet23_edges, radius=FILLET23_R)

    # Fillet24
    fillet24_edges = [part.edges().sort_by_distance(p)[0] for p in [
        (-21.76182967, 30.067243726, 3.175),
    ]]
    fillet(fillet24_edges, radius=FILLET24_R)

    # Fillet25
    fillet25_edges = [part.edges().sort_by_distance(p)[0] for p in [
        (-47.700026827, -8.41080171, 3.175),
    ]]
    fillet(fillet25_edges, radius=FILLET25_R)

    # Fillet26
    fillet26_edges = [part.edges().sort_by_distance(p)[0] for p in [
        (-21.76182967, -30.067243726, 3.175),
    ]]
    fillet(fillet26_edges, radius=FILLET26_R)

    # Fillet27
    fillet27_edges = [part.edges().sort_by_distance(p)[0] for p in [
        (30.067243726, 21.76182967, 3.175),
    ]]
    fillet(fillet27_edges, radius=FILLET27_R)

    # Fillet28
    fillet28_edges = [part.edges().sort_by_distance(p)[0] for p in [
        (36.978423652, 57.45466439, 3.175),
    ]]
    fillet(fillet28_edges, radius=FILLET28_R)

    # Fillet29
    fillet29_edges = [part.edges().sort_by_distance(p)[0] for p in [
        (-30.067243726, 21.76182967, 3.175),
    ]]
    fillet(fillet29_edges, radius=FILLET29_R)

    # Fillet30
    fillet30_edges = [part.edges().sort_by_distance(p)[0] for p in [
        (-30.067243726, -21.76182967, 3.175),
    ]]
    fillet(fillet30_edges, radius=FILLET30_R)

    # Fillet31
    fillet31_edges = [part.edges().sort_by_distance(p)[0] for p in [
        (-29.843941288, 38.149355343, 3.175),
    ]]
    fillet(fillet31_edges, radius=FILLET31_R)

    # Fillet32
    fillet32_edges = [part.edges().sort_by_distance(p)[0] for p in [
        (-58.363526169, 83.1640476, 3.175),
    ]]
    fillet(fillet32_edges, radius=FILLET32_R)


solid = part.part
